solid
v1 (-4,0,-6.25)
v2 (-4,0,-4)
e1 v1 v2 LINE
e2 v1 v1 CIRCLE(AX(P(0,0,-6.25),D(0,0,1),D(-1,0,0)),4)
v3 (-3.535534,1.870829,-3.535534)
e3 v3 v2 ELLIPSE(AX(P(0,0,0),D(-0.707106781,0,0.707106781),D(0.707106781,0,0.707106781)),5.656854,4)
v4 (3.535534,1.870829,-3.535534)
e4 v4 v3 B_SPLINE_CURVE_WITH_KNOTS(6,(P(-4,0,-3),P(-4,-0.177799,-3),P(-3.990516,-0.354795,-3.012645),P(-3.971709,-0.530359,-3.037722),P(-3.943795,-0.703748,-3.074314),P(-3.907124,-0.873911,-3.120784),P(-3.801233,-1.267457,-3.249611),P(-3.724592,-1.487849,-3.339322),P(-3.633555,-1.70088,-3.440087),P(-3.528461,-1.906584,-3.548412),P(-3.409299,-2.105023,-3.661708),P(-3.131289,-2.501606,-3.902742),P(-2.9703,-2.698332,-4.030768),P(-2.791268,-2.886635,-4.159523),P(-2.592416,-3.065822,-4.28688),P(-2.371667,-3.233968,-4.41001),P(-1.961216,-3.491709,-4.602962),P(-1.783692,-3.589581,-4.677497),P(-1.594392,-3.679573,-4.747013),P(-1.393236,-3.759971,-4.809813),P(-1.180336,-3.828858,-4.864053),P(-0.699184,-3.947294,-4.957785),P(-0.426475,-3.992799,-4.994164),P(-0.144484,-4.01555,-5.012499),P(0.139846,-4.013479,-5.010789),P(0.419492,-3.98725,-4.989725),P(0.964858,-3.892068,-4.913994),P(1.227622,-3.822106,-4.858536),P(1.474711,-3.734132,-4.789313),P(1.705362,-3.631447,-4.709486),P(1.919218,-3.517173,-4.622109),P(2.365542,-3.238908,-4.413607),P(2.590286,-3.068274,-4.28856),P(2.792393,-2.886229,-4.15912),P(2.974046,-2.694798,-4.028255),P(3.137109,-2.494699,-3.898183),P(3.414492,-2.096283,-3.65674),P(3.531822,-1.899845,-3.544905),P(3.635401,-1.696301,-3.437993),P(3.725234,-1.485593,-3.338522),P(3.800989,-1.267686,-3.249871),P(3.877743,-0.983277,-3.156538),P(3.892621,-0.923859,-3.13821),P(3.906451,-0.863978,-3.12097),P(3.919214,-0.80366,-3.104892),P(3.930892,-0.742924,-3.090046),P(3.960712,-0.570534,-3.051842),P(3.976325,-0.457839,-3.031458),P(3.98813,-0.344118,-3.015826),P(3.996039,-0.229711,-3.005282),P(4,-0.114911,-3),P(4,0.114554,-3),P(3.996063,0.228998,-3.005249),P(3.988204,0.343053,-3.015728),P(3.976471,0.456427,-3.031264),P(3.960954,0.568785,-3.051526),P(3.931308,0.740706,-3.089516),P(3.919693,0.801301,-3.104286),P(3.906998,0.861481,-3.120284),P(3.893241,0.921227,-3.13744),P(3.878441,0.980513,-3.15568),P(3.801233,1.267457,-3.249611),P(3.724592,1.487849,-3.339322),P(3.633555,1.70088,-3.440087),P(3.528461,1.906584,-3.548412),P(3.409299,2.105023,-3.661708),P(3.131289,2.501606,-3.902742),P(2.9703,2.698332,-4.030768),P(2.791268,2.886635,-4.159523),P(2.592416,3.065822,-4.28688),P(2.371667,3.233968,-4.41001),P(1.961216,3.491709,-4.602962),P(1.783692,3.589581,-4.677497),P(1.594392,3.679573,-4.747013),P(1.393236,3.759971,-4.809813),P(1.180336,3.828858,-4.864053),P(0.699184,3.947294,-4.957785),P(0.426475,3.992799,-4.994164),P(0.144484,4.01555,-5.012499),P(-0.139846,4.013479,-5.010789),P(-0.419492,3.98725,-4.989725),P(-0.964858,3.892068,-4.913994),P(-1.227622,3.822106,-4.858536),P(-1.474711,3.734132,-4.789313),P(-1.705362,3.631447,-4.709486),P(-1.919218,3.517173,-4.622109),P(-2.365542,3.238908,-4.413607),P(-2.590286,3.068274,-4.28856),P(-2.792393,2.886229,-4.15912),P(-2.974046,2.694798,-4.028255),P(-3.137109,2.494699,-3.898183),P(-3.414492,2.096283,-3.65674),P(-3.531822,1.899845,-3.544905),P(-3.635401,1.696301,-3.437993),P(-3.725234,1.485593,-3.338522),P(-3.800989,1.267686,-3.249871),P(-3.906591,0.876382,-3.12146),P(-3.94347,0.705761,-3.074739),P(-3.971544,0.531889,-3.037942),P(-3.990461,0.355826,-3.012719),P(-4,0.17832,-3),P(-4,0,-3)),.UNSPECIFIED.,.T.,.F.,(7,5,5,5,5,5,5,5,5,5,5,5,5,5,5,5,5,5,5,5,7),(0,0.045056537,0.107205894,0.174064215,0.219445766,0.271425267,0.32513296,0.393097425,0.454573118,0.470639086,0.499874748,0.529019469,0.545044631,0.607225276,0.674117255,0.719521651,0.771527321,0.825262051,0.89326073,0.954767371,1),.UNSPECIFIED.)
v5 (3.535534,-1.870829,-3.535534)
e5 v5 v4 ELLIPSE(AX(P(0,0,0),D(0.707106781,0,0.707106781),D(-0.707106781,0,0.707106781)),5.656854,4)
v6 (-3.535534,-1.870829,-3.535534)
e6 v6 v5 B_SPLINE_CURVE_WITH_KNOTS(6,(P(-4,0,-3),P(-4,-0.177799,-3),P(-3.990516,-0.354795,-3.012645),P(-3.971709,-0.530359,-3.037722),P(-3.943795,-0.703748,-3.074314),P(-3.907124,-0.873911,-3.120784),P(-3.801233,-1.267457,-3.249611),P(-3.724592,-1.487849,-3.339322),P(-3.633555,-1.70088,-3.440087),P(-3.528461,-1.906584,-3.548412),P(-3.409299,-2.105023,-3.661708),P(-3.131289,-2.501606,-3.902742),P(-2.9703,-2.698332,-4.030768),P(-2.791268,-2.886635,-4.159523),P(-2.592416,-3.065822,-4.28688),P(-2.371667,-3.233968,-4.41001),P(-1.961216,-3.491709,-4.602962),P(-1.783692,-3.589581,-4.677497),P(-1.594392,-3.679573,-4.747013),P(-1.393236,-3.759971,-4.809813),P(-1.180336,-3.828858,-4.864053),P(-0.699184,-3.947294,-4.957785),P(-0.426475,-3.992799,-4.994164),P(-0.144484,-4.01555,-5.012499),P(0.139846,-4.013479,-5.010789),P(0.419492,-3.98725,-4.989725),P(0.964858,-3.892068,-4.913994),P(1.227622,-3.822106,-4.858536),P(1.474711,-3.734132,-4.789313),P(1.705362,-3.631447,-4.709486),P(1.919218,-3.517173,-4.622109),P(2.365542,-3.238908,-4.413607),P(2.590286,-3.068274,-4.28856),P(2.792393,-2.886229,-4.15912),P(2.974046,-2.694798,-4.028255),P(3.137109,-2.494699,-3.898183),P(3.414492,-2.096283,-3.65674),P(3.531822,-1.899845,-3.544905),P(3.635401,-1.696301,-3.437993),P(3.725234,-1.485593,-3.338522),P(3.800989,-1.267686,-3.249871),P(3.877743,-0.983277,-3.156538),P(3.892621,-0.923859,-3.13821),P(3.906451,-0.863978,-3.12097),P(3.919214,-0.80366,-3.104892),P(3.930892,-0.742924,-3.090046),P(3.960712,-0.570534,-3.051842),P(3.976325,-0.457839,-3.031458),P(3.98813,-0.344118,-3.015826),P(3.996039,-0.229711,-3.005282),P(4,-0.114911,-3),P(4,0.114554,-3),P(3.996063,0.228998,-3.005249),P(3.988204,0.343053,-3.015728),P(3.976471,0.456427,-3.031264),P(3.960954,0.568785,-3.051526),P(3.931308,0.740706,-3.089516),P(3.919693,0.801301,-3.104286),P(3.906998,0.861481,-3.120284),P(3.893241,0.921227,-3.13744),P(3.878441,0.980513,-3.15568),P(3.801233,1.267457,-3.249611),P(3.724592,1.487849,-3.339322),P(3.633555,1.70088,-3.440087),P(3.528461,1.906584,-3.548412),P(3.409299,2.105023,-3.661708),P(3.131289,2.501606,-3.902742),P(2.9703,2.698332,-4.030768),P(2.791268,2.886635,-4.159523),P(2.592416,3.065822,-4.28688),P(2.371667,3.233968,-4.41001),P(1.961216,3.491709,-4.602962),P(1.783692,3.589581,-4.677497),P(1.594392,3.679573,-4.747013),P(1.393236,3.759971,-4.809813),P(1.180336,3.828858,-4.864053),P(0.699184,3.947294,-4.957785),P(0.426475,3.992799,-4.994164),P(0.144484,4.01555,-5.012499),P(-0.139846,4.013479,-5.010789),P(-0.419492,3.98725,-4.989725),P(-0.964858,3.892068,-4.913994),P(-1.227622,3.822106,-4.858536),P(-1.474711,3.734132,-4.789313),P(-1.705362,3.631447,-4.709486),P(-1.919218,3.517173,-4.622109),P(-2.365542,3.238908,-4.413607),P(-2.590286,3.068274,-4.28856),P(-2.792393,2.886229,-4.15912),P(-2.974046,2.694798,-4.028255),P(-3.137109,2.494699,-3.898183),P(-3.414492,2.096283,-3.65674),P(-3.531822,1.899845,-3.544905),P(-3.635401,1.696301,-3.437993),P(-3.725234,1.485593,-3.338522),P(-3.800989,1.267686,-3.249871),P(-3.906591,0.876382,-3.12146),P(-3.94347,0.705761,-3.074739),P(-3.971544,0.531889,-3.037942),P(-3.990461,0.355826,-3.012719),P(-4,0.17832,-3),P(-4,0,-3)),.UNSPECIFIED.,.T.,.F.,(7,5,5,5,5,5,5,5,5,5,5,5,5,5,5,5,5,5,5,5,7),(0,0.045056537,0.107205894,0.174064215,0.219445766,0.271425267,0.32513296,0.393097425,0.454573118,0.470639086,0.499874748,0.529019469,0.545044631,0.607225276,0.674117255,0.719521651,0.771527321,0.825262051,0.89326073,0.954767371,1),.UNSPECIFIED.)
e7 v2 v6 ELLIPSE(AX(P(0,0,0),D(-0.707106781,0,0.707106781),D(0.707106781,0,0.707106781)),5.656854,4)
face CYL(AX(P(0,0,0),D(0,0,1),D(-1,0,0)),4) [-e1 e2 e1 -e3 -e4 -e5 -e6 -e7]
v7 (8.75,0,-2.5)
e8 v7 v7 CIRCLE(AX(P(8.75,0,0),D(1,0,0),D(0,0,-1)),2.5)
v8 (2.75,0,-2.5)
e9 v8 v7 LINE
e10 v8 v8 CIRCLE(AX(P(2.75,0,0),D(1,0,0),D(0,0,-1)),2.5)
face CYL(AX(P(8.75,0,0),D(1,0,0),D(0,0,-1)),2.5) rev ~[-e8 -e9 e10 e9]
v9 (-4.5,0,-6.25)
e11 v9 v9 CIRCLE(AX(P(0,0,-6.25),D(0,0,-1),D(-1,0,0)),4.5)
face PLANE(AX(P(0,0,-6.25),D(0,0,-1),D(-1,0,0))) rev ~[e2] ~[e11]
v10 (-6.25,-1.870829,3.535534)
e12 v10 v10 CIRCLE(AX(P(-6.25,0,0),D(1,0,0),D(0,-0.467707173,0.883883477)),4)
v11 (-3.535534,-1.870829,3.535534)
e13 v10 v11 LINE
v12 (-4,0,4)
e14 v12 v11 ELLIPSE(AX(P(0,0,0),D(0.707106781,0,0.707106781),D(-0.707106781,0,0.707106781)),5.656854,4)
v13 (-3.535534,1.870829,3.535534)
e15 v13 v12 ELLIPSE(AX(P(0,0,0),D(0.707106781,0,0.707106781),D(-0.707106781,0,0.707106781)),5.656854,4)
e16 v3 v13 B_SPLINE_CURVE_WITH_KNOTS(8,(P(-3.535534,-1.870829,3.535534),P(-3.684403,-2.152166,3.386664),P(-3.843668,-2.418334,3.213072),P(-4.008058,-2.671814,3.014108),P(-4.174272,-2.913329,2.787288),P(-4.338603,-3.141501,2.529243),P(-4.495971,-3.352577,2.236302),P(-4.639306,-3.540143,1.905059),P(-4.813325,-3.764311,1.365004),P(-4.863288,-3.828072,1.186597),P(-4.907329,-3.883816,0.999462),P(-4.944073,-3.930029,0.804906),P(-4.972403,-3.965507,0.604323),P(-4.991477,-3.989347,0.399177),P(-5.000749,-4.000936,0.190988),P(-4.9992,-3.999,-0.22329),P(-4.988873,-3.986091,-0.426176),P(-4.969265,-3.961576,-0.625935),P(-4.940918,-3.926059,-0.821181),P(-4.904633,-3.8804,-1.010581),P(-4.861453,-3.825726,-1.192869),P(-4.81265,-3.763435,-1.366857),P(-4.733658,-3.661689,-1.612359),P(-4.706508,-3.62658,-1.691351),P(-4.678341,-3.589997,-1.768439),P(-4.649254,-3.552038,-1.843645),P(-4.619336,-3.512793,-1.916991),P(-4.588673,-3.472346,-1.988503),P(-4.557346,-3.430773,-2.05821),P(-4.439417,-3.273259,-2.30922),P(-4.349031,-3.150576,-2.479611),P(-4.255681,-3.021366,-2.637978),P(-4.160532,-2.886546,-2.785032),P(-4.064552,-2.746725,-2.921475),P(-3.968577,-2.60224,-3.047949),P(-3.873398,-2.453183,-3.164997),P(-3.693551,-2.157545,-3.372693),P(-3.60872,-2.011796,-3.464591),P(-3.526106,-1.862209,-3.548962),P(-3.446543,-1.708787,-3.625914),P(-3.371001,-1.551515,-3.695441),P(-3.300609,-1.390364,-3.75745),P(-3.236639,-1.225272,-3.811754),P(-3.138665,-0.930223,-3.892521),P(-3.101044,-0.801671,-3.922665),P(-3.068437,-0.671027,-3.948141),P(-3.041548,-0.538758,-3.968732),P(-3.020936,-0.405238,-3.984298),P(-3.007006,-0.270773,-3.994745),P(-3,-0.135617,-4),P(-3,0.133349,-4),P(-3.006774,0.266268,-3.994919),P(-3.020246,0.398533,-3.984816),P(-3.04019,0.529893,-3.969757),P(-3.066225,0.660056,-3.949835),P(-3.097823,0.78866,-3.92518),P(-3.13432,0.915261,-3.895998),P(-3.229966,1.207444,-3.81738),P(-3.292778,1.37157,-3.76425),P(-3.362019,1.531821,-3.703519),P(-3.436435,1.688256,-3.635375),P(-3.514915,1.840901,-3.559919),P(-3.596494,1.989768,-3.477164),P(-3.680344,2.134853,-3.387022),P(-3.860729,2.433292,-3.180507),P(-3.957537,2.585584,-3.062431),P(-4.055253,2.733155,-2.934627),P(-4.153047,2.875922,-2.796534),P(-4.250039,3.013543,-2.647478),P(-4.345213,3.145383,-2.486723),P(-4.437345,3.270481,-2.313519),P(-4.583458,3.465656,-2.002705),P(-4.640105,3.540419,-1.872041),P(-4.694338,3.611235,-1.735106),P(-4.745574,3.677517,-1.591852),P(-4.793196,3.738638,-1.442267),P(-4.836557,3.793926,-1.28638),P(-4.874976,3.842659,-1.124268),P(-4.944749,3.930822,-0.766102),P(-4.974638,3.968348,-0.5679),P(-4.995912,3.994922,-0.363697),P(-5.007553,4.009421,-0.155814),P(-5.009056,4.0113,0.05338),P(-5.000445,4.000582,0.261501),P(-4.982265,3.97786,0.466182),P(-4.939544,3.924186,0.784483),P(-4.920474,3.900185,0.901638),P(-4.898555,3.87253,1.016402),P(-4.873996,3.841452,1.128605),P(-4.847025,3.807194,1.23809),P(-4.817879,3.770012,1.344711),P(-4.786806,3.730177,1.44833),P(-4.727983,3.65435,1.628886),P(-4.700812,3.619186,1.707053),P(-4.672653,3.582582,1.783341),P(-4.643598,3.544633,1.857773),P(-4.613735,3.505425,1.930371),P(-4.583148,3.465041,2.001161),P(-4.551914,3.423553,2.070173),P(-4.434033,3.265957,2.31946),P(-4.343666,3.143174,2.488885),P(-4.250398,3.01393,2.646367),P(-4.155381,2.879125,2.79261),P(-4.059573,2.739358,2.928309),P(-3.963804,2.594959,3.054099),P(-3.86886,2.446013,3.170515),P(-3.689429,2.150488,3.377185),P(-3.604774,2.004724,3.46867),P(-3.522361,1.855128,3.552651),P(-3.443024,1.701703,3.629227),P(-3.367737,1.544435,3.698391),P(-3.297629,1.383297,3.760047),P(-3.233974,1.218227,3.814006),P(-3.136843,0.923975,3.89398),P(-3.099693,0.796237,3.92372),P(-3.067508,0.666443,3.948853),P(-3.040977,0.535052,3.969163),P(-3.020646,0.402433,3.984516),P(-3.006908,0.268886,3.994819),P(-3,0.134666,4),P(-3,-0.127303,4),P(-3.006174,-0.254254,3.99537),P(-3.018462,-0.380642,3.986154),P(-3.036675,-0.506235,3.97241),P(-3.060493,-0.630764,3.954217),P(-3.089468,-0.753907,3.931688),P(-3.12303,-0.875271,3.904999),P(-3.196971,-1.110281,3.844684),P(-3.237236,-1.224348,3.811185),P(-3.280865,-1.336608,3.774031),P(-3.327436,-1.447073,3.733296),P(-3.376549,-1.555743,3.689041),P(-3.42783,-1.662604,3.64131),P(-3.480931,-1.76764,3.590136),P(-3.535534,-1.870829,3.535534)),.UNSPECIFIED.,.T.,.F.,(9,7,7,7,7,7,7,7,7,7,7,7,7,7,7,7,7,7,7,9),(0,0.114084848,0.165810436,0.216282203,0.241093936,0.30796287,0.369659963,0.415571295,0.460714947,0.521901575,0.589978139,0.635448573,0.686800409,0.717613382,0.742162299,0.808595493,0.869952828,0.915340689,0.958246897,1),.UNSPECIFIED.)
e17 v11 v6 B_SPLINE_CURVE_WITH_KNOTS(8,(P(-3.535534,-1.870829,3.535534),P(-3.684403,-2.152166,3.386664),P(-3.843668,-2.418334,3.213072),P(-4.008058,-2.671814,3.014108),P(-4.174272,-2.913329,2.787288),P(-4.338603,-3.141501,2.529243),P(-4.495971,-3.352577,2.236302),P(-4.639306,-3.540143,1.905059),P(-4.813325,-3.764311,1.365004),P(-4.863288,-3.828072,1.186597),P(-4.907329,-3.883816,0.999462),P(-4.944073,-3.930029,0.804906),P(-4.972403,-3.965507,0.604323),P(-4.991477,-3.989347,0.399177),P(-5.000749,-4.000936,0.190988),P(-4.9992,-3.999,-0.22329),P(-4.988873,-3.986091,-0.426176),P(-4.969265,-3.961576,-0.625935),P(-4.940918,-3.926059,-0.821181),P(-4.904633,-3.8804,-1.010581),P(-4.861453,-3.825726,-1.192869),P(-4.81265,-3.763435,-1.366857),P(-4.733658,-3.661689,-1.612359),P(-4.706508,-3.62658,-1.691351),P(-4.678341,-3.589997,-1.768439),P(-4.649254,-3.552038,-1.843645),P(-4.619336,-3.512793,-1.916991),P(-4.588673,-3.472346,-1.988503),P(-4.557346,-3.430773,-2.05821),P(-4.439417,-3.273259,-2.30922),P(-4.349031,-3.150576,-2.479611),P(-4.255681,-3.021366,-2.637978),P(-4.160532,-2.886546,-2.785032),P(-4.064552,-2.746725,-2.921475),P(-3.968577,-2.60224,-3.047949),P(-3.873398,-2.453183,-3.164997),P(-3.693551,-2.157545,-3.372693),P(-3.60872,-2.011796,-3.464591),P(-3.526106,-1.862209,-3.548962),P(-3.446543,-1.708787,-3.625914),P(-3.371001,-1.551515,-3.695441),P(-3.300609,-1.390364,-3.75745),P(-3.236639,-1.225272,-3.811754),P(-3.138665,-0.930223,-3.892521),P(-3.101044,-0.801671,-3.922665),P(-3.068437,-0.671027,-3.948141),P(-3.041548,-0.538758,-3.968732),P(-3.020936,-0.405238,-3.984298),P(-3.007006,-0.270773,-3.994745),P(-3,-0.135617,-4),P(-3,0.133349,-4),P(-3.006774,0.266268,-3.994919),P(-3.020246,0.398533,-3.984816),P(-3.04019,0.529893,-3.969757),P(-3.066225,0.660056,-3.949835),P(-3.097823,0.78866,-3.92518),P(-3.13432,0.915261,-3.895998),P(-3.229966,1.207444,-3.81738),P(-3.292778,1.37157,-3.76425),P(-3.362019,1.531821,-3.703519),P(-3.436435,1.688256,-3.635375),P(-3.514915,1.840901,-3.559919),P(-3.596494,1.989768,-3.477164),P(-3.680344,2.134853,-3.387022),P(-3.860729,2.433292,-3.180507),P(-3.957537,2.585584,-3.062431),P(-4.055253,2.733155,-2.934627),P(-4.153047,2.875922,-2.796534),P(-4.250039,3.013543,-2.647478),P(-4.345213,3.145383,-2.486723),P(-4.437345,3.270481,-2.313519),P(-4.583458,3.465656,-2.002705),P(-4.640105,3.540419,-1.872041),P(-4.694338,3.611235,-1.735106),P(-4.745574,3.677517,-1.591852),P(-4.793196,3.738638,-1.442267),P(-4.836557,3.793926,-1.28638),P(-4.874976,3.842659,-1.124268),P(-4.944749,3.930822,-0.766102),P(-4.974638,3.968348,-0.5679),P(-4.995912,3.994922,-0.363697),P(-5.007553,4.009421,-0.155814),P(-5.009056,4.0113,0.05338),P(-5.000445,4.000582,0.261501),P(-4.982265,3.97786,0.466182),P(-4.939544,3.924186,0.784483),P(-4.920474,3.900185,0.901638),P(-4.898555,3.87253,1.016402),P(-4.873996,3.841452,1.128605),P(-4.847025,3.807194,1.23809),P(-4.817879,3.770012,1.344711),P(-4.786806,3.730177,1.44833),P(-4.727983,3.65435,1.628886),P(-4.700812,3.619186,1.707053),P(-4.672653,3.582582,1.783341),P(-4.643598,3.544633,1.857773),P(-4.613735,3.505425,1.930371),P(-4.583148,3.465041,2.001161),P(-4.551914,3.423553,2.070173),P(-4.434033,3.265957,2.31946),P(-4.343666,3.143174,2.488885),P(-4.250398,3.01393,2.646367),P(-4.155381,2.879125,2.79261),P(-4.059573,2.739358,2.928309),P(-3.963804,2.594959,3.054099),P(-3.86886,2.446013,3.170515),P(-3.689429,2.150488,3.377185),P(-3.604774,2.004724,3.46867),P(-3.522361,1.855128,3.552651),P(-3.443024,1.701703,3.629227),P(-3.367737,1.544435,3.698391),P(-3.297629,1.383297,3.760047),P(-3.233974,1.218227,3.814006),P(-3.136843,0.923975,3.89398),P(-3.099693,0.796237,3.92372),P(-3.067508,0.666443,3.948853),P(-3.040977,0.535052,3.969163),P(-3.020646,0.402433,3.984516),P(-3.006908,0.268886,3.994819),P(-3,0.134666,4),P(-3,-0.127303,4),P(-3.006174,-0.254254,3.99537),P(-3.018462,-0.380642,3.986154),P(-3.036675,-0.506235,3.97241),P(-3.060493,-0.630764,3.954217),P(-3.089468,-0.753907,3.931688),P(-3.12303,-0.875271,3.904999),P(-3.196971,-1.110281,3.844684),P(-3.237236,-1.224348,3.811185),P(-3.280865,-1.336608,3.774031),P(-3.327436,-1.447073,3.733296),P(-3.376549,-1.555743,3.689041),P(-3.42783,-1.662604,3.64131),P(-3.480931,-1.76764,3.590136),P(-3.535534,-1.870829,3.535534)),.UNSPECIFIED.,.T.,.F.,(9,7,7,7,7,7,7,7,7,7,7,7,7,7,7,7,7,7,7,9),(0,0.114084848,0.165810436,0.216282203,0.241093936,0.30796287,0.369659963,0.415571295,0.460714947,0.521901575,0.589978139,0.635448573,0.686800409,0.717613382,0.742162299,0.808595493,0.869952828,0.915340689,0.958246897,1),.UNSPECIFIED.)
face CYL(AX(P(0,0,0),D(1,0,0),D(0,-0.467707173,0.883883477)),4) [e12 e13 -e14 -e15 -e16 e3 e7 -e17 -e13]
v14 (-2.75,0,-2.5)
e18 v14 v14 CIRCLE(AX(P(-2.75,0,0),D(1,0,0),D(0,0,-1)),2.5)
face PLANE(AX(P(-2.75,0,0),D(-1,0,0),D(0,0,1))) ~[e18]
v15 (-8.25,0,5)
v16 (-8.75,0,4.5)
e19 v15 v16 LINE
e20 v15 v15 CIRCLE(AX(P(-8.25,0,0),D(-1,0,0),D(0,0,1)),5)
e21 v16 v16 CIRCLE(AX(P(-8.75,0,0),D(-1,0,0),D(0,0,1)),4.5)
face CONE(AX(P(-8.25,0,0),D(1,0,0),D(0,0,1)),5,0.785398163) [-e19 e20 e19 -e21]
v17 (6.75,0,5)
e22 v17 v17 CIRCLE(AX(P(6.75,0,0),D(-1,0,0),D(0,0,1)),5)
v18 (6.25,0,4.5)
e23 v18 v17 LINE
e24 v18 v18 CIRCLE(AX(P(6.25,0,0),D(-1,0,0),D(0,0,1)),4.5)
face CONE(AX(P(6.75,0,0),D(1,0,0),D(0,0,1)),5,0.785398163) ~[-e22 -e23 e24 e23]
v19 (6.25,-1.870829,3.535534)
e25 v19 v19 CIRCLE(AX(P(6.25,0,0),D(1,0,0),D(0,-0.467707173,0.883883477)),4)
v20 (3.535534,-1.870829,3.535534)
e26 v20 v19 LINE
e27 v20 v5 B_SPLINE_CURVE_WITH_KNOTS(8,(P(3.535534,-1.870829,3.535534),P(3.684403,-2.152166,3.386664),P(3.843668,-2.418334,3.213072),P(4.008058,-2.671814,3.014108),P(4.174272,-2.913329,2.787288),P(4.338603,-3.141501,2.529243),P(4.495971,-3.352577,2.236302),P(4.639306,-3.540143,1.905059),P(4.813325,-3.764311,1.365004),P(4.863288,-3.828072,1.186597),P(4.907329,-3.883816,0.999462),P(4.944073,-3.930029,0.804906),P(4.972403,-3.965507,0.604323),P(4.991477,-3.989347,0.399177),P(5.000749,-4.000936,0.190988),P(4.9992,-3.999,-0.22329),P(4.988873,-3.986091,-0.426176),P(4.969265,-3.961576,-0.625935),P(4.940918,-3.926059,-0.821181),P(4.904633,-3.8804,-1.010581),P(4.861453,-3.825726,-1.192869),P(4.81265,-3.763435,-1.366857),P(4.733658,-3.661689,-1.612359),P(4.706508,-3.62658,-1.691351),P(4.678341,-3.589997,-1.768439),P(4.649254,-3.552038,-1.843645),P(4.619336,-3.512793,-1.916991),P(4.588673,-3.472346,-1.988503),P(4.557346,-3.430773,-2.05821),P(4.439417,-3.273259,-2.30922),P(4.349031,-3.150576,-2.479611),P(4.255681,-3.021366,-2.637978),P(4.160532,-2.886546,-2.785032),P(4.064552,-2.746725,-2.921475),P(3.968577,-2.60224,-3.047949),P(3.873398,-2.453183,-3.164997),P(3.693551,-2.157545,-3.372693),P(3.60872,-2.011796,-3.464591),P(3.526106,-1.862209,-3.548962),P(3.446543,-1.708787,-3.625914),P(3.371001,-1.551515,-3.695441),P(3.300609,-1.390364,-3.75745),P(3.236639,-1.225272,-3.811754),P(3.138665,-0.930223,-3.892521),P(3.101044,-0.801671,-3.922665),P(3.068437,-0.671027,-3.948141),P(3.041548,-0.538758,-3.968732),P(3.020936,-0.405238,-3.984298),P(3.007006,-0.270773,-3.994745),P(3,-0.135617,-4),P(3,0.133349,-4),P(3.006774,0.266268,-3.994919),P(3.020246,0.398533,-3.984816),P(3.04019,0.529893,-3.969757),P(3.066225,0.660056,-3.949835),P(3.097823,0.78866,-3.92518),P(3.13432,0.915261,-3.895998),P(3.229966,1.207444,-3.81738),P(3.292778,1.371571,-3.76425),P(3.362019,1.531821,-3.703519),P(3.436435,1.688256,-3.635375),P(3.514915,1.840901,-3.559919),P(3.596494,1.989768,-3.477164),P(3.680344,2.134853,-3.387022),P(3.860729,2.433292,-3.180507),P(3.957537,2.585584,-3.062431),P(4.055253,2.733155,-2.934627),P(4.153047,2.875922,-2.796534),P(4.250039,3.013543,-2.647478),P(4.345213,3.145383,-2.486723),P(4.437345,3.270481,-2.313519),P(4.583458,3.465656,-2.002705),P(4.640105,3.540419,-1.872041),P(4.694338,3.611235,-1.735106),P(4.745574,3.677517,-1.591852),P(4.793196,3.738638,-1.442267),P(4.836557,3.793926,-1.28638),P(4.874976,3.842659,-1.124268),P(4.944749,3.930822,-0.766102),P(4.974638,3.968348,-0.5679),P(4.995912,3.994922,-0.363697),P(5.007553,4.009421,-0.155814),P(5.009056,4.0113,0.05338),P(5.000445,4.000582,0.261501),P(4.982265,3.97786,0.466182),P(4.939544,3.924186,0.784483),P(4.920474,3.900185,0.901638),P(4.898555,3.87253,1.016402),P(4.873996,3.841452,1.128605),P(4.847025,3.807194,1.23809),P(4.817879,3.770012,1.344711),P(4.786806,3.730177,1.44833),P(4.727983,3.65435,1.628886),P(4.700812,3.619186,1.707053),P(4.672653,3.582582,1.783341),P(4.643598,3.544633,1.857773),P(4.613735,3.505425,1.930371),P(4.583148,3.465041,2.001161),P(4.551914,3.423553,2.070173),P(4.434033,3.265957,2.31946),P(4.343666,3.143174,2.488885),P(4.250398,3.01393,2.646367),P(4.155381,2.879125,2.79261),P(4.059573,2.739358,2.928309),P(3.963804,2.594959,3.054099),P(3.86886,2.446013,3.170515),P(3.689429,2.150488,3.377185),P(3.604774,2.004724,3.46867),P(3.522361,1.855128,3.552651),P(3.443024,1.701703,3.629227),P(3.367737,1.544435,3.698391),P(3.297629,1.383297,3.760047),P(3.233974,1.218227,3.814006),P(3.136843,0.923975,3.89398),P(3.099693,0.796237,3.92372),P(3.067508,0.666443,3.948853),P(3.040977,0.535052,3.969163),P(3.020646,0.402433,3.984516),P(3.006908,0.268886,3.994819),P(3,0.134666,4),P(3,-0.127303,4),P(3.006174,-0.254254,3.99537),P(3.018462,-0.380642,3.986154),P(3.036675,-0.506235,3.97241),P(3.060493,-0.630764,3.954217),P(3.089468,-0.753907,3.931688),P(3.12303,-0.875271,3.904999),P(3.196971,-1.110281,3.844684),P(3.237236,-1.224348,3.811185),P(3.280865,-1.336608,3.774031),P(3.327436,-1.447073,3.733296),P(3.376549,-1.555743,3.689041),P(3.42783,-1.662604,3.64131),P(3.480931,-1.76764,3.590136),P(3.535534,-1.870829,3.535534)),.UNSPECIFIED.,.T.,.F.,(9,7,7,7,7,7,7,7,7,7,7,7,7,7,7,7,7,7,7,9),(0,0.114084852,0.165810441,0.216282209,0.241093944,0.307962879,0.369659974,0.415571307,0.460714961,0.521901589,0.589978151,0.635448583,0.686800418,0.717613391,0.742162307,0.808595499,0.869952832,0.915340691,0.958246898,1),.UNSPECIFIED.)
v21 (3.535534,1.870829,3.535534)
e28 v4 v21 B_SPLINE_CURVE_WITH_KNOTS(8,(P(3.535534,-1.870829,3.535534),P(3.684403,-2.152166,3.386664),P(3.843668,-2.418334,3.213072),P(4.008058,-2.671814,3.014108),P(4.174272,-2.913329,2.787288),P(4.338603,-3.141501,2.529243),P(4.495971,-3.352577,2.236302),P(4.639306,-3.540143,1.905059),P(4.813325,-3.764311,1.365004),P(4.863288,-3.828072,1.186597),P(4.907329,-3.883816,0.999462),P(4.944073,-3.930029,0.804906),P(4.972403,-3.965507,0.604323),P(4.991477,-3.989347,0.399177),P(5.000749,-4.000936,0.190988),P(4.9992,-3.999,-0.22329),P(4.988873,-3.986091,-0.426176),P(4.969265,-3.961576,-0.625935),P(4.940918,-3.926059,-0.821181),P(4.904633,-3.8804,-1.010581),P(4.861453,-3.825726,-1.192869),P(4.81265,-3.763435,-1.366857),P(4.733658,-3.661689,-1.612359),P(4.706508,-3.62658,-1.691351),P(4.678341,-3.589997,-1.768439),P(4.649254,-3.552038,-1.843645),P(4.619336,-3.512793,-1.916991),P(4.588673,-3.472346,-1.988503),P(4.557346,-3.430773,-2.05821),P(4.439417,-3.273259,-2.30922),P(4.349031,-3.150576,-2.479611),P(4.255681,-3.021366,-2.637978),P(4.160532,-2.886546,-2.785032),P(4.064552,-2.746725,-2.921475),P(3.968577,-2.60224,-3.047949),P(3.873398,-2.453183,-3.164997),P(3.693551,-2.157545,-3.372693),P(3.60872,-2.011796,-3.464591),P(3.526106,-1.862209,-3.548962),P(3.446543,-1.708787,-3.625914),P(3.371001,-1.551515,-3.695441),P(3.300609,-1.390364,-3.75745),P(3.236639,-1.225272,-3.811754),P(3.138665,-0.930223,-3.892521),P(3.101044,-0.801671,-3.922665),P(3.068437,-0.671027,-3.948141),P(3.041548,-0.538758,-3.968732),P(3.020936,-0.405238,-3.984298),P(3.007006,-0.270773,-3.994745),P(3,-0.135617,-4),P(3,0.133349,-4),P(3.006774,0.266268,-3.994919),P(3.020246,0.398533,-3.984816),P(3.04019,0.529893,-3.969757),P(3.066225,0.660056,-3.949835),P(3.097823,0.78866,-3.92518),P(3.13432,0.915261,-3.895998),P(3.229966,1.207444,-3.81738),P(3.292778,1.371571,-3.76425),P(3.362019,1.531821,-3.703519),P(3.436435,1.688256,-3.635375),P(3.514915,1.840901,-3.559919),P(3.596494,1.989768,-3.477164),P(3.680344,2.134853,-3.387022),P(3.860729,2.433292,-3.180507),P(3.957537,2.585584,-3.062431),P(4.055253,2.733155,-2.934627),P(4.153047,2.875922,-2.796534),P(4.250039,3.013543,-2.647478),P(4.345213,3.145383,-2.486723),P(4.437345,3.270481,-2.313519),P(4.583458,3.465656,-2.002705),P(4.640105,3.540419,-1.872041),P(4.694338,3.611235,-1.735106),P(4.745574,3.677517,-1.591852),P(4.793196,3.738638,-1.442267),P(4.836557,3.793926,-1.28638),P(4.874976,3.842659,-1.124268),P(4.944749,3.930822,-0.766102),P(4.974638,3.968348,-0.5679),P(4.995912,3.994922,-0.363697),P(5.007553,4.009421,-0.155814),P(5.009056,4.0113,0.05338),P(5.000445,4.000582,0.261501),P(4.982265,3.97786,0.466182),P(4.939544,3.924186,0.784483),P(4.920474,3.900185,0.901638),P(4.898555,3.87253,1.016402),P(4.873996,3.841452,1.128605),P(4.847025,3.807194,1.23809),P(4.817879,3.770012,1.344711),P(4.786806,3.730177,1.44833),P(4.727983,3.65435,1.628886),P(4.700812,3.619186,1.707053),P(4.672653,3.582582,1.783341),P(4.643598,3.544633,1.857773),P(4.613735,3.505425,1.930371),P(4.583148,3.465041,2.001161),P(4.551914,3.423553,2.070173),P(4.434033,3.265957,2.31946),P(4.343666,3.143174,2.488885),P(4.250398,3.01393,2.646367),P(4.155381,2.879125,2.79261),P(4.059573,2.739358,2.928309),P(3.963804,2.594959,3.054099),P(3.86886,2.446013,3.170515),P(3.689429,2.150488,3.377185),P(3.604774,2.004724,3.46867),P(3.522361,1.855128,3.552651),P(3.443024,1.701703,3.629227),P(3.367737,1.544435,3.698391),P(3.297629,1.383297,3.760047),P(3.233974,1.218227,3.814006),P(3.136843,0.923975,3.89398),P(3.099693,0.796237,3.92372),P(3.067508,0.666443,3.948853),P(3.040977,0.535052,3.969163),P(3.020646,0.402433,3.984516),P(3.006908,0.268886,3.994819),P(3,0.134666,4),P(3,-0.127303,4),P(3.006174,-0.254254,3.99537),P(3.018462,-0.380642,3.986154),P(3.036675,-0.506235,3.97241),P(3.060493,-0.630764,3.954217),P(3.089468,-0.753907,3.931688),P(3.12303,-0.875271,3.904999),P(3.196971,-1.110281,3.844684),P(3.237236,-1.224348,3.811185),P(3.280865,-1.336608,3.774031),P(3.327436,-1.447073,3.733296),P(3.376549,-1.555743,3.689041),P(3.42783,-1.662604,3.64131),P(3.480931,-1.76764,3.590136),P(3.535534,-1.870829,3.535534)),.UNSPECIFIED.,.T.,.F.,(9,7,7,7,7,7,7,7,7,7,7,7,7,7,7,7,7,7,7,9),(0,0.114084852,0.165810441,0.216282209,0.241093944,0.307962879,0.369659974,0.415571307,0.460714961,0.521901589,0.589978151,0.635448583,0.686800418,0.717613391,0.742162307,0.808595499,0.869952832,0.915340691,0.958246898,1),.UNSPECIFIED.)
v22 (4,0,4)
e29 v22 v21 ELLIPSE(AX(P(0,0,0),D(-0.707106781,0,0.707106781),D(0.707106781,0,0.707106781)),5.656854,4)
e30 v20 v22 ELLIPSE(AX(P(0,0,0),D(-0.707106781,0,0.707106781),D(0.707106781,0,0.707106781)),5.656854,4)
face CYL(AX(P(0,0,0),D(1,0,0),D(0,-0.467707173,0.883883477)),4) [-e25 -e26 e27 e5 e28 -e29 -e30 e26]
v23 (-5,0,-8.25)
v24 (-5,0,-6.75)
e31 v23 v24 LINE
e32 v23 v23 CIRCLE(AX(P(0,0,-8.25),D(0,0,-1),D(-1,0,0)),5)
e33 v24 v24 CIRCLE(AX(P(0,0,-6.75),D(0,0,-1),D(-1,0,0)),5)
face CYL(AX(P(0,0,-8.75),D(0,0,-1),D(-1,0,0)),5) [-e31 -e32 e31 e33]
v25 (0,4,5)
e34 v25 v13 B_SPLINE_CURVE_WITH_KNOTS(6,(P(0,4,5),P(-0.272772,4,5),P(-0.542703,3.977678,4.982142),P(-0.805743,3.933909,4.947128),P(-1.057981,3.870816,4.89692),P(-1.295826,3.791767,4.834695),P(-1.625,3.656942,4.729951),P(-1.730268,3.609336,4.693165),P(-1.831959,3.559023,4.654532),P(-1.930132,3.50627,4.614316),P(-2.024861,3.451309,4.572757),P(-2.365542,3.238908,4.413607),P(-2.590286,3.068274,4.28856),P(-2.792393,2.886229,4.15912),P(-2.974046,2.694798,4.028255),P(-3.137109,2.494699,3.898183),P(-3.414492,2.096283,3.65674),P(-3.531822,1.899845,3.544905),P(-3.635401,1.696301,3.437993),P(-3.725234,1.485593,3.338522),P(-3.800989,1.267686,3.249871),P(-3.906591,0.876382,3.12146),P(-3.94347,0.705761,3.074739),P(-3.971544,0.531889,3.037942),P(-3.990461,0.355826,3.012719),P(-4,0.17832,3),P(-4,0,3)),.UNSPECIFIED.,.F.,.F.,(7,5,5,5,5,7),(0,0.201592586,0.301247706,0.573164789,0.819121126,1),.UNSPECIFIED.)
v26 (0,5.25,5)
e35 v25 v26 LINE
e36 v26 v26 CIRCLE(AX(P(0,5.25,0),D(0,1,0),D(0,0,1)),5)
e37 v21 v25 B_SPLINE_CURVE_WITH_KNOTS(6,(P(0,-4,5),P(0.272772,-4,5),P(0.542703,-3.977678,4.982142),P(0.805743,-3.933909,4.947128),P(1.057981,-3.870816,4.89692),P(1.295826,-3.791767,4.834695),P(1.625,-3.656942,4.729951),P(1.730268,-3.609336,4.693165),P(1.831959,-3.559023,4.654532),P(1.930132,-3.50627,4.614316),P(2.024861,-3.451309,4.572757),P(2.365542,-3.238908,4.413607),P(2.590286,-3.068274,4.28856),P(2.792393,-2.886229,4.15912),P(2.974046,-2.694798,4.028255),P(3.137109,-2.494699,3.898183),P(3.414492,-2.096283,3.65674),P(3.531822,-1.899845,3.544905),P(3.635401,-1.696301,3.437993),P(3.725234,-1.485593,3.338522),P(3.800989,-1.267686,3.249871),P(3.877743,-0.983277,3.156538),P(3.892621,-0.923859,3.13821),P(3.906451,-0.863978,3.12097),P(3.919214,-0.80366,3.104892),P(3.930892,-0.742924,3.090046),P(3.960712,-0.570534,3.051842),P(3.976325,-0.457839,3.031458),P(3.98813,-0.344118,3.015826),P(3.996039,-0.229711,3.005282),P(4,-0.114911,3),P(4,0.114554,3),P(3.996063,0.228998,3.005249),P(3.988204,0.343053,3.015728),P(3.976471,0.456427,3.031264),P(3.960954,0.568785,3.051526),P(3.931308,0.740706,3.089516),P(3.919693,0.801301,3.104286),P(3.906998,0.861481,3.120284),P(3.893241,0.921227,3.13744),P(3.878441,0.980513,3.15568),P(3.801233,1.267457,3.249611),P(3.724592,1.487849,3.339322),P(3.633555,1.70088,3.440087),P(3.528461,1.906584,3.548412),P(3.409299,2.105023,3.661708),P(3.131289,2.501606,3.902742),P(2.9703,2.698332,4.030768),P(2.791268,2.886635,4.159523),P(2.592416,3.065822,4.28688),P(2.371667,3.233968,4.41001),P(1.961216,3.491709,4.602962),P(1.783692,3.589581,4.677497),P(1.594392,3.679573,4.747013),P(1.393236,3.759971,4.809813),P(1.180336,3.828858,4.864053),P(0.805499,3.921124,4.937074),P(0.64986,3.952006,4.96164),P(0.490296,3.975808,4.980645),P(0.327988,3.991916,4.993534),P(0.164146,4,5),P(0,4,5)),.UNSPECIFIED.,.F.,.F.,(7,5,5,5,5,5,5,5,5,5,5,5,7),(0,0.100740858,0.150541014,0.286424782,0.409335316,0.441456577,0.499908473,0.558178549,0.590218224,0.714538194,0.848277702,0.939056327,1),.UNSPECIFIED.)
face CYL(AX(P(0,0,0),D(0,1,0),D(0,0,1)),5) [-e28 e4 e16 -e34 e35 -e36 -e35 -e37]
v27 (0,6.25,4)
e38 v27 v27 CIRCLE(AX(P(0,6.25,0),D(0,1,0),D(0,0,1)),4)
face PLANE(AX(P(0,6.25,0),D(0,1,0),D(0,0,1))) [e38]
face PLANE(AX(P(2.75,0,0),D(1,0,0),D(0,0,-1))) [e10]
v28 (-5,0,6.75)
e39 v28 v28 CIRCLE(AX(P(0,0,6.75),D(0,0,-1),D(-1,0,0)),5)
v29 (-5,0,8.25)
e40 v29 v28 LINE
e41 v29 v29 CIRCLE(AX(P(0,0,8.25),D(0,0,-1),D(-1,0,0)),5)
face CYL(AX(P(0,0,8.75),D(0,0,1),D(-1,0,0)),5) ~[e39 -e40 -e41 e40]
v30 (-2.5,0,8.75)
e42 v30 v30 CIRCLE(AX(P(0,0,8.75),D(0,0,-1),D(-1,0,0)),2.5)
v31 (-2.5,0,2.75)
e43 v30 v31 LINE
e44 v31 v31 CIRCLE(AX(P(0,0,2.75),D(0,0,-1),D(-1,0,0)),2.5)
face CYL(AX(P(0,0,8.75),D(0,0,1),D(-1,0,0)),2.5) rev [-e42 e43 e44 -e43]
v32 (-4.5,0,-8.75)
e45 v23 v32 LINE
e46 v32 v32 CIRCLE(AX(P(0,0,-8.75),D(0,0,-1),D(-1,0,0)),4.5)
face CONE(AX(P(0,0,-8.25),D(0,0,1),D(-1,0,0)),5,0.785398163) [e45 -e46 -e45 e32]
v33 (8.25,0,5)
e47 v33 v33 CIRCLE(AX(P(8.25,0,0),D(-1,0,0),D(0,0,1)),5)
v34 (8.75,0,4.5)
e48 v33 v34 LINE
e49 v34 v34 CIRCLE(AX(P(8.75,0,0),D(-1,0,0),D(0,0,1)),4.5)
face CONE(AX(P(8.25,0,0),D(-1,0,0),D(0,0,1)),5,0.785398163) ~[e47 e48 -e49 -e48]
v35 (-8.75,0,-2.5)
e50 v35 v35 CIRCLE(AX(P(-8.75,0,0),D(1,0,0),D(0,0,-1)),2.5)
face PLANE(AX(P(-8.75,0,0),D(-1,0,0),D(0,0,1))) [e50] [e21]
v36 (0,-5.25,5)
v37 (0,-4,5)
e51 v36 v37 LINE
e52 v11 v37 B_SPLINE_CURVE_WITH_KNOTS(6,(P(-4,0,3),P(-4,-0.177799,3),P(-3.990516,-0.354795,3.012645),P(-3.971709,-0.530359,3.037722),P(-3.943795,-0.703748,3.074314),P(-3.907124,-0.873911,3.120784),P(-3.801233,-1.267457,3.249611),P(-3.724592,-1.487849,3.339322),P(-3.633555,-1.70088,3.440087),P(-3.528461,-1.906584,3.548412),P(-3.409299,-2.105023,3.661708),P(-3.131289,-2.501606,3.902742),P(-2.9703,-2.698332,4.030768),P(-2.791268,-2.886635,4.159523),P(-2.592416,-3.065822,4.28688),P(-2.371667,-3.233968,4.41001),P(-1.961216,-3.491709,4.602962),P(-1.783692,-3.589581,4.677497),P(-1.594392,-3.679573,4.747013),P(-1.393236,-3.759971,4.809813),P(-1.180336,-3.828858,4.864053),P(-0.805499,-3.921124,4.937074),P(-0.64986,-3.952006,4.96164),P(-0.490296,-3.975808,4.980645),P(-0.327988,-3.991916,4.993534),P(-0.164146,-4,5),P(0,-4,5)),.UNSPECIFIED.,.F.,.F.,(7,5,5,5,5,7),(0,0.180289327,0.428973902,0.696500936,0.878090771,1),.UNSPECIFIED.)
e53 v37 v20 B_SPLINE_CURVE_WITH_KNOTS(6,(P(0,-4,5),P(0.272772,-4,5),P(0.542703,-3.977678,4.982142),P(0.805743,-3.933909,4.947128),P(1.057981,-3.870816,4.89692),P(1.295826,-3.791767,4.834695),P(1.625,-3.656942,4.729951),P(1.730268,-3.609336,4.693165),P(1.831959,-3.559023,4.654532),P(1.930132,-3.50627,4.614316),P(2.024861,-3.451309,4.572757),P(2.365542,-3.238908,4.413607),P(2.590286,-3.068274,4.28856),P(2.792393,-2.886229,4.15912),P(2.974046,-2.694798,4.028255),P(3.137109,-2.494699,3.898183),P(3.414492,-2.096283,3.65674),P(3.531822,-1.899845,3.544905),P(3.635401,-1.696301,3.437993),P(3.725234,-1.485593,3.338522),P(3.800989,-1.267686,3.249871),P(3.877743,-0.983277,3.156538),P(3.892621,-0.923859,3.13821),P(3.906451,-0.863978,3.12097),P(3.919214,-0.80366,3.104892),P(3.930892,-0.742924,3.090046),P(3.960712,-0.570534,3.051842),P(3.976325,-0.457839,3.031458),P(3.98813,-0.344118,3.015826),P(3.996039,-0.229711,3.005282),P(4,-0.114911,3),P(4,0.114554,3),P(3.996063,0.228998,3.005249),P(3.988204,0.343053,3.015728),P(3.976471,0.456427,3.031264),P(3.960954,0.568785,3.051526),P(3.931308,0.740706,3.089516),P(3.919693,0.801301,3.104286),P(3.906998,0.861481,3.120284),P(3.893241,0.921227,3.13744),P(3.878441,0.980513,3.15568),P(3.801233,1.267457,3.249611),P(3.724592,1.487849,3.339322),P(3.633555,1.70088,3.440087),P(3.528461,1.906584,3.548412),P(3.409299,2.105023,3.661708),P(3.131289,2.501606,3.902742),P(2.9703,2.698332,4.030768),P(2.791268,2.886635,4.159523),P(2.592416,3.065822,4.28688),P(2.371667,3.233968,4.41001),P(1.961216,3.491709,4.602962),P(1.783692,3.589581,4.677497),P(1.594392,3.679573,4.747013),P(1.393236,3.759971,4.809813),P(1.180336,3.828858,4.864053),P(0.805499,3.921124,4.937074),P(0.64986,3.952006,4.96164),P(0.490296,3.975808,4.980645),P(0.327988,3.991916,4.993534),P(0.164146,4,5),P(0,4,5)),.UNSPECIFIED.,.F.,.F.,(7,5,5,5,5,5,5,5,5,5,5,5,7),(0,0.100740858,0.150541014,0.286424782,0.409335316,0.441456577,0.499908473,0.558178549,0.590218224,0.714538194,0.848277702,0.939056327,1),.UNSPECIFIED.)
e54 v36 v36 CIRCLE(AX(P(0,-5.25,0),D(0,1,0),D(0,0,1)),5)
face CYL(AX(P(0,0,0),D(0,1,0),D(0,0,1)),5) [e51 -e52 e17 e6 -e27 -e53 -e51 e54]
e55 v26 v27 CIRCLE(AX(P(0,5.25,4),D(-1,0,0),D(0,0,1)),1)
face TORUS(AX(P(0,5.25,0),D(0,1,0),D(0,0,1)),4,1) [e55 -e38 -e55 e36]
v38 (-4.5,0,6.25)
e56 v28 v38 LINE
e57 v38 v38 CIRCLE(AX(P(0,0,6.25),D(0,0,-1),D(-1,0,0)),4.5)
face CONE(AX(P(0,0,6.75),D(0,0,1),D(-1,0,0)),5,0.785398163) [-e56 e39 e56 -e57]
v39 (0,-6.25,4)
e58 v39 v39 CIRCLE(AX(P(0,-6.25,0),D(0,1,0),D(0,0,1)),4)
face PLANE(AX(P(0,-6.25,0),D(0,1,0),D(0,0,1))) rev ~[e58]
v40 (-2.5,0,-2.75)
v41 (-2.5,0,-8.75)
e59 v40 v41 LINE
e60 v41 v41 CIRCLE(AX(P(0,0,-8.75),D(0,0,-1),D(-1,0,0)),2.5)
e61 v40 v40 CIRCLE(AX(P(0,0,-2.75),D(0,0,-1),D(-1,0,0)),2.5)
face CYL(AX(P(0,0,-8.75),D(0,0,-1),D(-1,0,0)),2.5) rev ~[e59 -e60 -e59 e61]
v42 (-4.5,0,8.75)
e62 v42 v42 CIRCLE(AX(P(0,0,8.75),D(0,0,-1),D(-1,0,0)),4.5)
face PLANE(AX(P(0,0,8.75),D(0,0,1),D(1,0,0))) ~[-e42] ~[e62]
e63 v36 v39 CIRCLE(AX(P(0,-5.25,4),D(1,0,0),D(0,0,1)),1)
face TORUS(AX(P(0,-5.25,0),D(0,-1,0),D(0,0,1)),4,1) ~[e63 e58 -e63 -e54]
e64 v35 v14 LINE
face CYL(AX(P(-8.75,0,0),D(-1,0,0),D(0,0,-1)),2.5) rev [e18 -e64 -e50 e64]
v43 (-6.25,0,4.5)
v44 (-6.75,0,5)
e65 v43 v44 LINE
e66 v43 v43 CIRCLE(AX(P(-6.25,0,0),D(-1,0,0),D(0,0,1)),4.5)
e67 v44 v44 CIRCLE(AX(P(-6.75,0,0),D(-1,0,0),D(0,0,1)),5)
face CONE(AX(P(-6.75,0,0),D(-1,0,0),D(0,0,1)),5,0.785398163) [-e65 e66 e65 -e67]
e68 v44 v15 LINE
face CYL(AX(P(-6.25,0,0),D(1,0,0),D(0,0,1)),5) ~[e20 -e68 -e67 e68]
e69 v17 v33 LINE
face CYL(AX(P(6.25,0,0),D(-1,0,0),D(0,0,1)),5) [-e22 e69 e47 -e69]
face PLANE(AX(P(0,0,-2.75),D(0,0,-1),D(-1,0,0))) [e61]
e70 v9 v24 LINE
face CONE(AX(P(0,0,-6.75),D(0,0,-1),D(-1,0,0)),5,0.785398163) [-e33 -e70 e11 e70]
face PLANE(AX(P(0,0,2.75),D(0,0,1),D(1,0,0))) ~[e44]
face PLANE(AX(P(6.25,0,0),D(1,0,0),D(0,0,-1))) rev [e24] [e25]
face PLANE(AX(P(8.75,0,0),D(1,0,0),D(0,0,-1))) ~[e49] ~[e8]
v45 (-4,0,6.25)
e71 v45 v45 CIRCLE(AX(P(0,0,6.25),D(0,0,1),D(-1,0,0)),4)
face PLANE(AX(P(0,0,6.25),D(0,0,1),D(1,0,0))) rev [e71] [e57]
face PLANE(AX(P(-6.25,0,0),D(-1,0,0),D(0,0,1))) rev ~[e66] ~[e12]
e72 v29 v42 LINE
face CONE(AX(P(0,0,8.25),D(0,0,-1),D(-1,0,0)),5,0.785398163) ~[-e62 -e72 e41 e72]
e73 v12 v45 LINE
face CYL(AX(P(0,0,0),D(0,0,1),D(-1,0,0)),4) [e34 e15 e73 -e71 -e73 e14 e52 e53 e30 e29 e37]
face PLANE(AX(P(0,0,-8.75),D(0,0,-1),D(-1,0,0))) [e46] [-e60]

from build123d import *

# Parameters (mm, degrees)
SKETCH3_R           = 5
BOSS_EXTRUDE1_DEPTH = 6.25
FILLET1_R           = 1
SKETCH5_R           = 4
BOSS_EXTRUDE3_DEPTH = 8.75
SKETCH4_R           = 4
BOSS_EXTRUDE4_DEPTH = 8.75
SKETCH6_R           = 2.5
CUT_EXTRUDE3_DEPTH  = 6
SKETCH7_R           = 2.5
CUT_EXTRUDE4_DEPTH  = 6
BOSS_EXTRUDE5_START = -2.5
SKETCH8_R           = 5
SKETCH8_R_2         = 2.5
BOSS_EXTRUDE5_DEPTH = 2.5
SKETCH9_R           = 5
SKETCH9_R_2         = 2.5
BOSS_EXTRUDE6_DEPTH = 2.5
CHAMFER1_SIZE       = 0.5


with BuildPart() as part:
    # Sketch3 → Boss-Extrude1 (new, symmetric)
    with BuildSketch(Plane(origin=(0, 0, 0), x_dir=(1, 0, 0), z_dir=(0, 1, 0))):
        with Locations(Location((0, 0, 0), (0, 0, 270))):
            Circle(SKETCH3_R)
    extrude(amount=BOSS_EXTRUDE1_DEPTH, both=True)

    # Fillet1
    fillet1_edges = [part.edges().sort_by_distance(p)[0] for p in [
        (0, -6.25, -5),
        (0, 6.25, -5),
    ]]
    fillet(fillet1_edges, radius=FILLET1_R)

    # Sketch5 → Boss-Extrude3 (add, symmetric)
    with BuildSketch(Plane.XY):
        with Locations(Location((0, 0, 0), (0, 0, 180))):
            Circle(SKETCH5_R)
    extrude(amount=BOSS_EXTRUDE3_DEPTH, both=True)

    # Sketch4 → Boss-Extrude4 (add, symmetric)
    with BuildSketch(Plane(origin=(0, 0, 0), x_dir=(0, 0, -1), z_dir=(1, 0, 0))):
        with Locations(Location((0, 0, 0), (0, 0, 207.885566817))):
            Circle(SKETCH4_R)
    extrude(amount=BOSS_EXTRUDE4_DEPTH, both=True)

    # Sketch6 → Cut-Extrude3 (cut)
    with BuildSketch(Plane(origin=(8.75, 0, 0), x_dir=(0, 0, -1), z_dir=(1, 0, 0))):
        Circle(SKETCH6_R)
    cut_extrude3 = extrude(amount=-CUT_EXTRUDE3_DEPTH, mode=Mode.SUBTRACT)

    # Sketch7 → Cut-Extrude4 (cut)
    with BuildSketch(Plane(origin=(0, 0, -8.75), x_dir=(-1, 0, 0), z_dir=(0, 0, -1))):
        Circle(SKETCH7_R)
    cut_extrude4 = extrude(amount=-CUT_EXTRUDE4_DEPTH, mode=Mode.SUBTRACT)

    # Sketch8 → Boss-Extrude5 (add)
    with BuildSketch(Plane.ZY.offset(8.75).offset(BOSS_EXTRUDE5_START)):
        Circle(SKETCH8_R)
        with Locations(Location((0, 0, 0), (0, 0, 180))):
            Circle(SKETCH8_R_2, mode=Mode.SUBTRACT)
    boss_extrude5 = extrude(amount=BOSS_EXTRUDE5_DEPTH)

    # Mirror1: Boss-Extrude5 across plane
    add(boss_extrude5.mirror(Plane(origin=(0, 0, 0), x_dir=(0, 0, 1), z_dir=(1, 0, 0))))

    # Sketch9 → Boss-Extrude6 (add)
    with BuildSketch(Plane(origin=(0, 0, -8.75), x_dir=(-1, 0, 0), z_dir=(0, 0, -1))):
        Circle(SKETCH9_R)
        Circle(SKETCH9_R_2, mode=Mode.SUBTRACT)
    boss_extrude6 = extrude(amount=-BOSS_EXTRUDE6_DEPTH)

    # Mirror2: Boss-Extrude6 across plane
    add(boss_extrude6.mirror(Plane.XY))

    # Mirror3: Cut-Extrude3 across plane
    add(cut_extrude3.mirror(Plane(origin=(0, 0, 0), x_dir=(0, 0, 1), z_dir=(1, 0, 0))), mode=Mode.SUBTRACT)

    # Mirror4: Cut-Extrude4 across plane
    add(cut_extrude4.mirror(Plane.XY), mode=Mode.SUBTRACT)

    # Chamfer1
    chamfer1_edges = [part.edges().sort_by_distance(p)[0] for p in [
        (-6.25, 0, -5),
        (-8.75, 0, -5),
        (6.25, 0, -5),
        (8.75, 0, -5),
        (5, 0, -8.75),
        (5, 0, -6.25),
        (5, 0, 6.25),
        (5, 0, 8.75),
    ]]
    chamfer(chamfer1_edges, length=CHAMFER1_SIZE)


solid = part.part
